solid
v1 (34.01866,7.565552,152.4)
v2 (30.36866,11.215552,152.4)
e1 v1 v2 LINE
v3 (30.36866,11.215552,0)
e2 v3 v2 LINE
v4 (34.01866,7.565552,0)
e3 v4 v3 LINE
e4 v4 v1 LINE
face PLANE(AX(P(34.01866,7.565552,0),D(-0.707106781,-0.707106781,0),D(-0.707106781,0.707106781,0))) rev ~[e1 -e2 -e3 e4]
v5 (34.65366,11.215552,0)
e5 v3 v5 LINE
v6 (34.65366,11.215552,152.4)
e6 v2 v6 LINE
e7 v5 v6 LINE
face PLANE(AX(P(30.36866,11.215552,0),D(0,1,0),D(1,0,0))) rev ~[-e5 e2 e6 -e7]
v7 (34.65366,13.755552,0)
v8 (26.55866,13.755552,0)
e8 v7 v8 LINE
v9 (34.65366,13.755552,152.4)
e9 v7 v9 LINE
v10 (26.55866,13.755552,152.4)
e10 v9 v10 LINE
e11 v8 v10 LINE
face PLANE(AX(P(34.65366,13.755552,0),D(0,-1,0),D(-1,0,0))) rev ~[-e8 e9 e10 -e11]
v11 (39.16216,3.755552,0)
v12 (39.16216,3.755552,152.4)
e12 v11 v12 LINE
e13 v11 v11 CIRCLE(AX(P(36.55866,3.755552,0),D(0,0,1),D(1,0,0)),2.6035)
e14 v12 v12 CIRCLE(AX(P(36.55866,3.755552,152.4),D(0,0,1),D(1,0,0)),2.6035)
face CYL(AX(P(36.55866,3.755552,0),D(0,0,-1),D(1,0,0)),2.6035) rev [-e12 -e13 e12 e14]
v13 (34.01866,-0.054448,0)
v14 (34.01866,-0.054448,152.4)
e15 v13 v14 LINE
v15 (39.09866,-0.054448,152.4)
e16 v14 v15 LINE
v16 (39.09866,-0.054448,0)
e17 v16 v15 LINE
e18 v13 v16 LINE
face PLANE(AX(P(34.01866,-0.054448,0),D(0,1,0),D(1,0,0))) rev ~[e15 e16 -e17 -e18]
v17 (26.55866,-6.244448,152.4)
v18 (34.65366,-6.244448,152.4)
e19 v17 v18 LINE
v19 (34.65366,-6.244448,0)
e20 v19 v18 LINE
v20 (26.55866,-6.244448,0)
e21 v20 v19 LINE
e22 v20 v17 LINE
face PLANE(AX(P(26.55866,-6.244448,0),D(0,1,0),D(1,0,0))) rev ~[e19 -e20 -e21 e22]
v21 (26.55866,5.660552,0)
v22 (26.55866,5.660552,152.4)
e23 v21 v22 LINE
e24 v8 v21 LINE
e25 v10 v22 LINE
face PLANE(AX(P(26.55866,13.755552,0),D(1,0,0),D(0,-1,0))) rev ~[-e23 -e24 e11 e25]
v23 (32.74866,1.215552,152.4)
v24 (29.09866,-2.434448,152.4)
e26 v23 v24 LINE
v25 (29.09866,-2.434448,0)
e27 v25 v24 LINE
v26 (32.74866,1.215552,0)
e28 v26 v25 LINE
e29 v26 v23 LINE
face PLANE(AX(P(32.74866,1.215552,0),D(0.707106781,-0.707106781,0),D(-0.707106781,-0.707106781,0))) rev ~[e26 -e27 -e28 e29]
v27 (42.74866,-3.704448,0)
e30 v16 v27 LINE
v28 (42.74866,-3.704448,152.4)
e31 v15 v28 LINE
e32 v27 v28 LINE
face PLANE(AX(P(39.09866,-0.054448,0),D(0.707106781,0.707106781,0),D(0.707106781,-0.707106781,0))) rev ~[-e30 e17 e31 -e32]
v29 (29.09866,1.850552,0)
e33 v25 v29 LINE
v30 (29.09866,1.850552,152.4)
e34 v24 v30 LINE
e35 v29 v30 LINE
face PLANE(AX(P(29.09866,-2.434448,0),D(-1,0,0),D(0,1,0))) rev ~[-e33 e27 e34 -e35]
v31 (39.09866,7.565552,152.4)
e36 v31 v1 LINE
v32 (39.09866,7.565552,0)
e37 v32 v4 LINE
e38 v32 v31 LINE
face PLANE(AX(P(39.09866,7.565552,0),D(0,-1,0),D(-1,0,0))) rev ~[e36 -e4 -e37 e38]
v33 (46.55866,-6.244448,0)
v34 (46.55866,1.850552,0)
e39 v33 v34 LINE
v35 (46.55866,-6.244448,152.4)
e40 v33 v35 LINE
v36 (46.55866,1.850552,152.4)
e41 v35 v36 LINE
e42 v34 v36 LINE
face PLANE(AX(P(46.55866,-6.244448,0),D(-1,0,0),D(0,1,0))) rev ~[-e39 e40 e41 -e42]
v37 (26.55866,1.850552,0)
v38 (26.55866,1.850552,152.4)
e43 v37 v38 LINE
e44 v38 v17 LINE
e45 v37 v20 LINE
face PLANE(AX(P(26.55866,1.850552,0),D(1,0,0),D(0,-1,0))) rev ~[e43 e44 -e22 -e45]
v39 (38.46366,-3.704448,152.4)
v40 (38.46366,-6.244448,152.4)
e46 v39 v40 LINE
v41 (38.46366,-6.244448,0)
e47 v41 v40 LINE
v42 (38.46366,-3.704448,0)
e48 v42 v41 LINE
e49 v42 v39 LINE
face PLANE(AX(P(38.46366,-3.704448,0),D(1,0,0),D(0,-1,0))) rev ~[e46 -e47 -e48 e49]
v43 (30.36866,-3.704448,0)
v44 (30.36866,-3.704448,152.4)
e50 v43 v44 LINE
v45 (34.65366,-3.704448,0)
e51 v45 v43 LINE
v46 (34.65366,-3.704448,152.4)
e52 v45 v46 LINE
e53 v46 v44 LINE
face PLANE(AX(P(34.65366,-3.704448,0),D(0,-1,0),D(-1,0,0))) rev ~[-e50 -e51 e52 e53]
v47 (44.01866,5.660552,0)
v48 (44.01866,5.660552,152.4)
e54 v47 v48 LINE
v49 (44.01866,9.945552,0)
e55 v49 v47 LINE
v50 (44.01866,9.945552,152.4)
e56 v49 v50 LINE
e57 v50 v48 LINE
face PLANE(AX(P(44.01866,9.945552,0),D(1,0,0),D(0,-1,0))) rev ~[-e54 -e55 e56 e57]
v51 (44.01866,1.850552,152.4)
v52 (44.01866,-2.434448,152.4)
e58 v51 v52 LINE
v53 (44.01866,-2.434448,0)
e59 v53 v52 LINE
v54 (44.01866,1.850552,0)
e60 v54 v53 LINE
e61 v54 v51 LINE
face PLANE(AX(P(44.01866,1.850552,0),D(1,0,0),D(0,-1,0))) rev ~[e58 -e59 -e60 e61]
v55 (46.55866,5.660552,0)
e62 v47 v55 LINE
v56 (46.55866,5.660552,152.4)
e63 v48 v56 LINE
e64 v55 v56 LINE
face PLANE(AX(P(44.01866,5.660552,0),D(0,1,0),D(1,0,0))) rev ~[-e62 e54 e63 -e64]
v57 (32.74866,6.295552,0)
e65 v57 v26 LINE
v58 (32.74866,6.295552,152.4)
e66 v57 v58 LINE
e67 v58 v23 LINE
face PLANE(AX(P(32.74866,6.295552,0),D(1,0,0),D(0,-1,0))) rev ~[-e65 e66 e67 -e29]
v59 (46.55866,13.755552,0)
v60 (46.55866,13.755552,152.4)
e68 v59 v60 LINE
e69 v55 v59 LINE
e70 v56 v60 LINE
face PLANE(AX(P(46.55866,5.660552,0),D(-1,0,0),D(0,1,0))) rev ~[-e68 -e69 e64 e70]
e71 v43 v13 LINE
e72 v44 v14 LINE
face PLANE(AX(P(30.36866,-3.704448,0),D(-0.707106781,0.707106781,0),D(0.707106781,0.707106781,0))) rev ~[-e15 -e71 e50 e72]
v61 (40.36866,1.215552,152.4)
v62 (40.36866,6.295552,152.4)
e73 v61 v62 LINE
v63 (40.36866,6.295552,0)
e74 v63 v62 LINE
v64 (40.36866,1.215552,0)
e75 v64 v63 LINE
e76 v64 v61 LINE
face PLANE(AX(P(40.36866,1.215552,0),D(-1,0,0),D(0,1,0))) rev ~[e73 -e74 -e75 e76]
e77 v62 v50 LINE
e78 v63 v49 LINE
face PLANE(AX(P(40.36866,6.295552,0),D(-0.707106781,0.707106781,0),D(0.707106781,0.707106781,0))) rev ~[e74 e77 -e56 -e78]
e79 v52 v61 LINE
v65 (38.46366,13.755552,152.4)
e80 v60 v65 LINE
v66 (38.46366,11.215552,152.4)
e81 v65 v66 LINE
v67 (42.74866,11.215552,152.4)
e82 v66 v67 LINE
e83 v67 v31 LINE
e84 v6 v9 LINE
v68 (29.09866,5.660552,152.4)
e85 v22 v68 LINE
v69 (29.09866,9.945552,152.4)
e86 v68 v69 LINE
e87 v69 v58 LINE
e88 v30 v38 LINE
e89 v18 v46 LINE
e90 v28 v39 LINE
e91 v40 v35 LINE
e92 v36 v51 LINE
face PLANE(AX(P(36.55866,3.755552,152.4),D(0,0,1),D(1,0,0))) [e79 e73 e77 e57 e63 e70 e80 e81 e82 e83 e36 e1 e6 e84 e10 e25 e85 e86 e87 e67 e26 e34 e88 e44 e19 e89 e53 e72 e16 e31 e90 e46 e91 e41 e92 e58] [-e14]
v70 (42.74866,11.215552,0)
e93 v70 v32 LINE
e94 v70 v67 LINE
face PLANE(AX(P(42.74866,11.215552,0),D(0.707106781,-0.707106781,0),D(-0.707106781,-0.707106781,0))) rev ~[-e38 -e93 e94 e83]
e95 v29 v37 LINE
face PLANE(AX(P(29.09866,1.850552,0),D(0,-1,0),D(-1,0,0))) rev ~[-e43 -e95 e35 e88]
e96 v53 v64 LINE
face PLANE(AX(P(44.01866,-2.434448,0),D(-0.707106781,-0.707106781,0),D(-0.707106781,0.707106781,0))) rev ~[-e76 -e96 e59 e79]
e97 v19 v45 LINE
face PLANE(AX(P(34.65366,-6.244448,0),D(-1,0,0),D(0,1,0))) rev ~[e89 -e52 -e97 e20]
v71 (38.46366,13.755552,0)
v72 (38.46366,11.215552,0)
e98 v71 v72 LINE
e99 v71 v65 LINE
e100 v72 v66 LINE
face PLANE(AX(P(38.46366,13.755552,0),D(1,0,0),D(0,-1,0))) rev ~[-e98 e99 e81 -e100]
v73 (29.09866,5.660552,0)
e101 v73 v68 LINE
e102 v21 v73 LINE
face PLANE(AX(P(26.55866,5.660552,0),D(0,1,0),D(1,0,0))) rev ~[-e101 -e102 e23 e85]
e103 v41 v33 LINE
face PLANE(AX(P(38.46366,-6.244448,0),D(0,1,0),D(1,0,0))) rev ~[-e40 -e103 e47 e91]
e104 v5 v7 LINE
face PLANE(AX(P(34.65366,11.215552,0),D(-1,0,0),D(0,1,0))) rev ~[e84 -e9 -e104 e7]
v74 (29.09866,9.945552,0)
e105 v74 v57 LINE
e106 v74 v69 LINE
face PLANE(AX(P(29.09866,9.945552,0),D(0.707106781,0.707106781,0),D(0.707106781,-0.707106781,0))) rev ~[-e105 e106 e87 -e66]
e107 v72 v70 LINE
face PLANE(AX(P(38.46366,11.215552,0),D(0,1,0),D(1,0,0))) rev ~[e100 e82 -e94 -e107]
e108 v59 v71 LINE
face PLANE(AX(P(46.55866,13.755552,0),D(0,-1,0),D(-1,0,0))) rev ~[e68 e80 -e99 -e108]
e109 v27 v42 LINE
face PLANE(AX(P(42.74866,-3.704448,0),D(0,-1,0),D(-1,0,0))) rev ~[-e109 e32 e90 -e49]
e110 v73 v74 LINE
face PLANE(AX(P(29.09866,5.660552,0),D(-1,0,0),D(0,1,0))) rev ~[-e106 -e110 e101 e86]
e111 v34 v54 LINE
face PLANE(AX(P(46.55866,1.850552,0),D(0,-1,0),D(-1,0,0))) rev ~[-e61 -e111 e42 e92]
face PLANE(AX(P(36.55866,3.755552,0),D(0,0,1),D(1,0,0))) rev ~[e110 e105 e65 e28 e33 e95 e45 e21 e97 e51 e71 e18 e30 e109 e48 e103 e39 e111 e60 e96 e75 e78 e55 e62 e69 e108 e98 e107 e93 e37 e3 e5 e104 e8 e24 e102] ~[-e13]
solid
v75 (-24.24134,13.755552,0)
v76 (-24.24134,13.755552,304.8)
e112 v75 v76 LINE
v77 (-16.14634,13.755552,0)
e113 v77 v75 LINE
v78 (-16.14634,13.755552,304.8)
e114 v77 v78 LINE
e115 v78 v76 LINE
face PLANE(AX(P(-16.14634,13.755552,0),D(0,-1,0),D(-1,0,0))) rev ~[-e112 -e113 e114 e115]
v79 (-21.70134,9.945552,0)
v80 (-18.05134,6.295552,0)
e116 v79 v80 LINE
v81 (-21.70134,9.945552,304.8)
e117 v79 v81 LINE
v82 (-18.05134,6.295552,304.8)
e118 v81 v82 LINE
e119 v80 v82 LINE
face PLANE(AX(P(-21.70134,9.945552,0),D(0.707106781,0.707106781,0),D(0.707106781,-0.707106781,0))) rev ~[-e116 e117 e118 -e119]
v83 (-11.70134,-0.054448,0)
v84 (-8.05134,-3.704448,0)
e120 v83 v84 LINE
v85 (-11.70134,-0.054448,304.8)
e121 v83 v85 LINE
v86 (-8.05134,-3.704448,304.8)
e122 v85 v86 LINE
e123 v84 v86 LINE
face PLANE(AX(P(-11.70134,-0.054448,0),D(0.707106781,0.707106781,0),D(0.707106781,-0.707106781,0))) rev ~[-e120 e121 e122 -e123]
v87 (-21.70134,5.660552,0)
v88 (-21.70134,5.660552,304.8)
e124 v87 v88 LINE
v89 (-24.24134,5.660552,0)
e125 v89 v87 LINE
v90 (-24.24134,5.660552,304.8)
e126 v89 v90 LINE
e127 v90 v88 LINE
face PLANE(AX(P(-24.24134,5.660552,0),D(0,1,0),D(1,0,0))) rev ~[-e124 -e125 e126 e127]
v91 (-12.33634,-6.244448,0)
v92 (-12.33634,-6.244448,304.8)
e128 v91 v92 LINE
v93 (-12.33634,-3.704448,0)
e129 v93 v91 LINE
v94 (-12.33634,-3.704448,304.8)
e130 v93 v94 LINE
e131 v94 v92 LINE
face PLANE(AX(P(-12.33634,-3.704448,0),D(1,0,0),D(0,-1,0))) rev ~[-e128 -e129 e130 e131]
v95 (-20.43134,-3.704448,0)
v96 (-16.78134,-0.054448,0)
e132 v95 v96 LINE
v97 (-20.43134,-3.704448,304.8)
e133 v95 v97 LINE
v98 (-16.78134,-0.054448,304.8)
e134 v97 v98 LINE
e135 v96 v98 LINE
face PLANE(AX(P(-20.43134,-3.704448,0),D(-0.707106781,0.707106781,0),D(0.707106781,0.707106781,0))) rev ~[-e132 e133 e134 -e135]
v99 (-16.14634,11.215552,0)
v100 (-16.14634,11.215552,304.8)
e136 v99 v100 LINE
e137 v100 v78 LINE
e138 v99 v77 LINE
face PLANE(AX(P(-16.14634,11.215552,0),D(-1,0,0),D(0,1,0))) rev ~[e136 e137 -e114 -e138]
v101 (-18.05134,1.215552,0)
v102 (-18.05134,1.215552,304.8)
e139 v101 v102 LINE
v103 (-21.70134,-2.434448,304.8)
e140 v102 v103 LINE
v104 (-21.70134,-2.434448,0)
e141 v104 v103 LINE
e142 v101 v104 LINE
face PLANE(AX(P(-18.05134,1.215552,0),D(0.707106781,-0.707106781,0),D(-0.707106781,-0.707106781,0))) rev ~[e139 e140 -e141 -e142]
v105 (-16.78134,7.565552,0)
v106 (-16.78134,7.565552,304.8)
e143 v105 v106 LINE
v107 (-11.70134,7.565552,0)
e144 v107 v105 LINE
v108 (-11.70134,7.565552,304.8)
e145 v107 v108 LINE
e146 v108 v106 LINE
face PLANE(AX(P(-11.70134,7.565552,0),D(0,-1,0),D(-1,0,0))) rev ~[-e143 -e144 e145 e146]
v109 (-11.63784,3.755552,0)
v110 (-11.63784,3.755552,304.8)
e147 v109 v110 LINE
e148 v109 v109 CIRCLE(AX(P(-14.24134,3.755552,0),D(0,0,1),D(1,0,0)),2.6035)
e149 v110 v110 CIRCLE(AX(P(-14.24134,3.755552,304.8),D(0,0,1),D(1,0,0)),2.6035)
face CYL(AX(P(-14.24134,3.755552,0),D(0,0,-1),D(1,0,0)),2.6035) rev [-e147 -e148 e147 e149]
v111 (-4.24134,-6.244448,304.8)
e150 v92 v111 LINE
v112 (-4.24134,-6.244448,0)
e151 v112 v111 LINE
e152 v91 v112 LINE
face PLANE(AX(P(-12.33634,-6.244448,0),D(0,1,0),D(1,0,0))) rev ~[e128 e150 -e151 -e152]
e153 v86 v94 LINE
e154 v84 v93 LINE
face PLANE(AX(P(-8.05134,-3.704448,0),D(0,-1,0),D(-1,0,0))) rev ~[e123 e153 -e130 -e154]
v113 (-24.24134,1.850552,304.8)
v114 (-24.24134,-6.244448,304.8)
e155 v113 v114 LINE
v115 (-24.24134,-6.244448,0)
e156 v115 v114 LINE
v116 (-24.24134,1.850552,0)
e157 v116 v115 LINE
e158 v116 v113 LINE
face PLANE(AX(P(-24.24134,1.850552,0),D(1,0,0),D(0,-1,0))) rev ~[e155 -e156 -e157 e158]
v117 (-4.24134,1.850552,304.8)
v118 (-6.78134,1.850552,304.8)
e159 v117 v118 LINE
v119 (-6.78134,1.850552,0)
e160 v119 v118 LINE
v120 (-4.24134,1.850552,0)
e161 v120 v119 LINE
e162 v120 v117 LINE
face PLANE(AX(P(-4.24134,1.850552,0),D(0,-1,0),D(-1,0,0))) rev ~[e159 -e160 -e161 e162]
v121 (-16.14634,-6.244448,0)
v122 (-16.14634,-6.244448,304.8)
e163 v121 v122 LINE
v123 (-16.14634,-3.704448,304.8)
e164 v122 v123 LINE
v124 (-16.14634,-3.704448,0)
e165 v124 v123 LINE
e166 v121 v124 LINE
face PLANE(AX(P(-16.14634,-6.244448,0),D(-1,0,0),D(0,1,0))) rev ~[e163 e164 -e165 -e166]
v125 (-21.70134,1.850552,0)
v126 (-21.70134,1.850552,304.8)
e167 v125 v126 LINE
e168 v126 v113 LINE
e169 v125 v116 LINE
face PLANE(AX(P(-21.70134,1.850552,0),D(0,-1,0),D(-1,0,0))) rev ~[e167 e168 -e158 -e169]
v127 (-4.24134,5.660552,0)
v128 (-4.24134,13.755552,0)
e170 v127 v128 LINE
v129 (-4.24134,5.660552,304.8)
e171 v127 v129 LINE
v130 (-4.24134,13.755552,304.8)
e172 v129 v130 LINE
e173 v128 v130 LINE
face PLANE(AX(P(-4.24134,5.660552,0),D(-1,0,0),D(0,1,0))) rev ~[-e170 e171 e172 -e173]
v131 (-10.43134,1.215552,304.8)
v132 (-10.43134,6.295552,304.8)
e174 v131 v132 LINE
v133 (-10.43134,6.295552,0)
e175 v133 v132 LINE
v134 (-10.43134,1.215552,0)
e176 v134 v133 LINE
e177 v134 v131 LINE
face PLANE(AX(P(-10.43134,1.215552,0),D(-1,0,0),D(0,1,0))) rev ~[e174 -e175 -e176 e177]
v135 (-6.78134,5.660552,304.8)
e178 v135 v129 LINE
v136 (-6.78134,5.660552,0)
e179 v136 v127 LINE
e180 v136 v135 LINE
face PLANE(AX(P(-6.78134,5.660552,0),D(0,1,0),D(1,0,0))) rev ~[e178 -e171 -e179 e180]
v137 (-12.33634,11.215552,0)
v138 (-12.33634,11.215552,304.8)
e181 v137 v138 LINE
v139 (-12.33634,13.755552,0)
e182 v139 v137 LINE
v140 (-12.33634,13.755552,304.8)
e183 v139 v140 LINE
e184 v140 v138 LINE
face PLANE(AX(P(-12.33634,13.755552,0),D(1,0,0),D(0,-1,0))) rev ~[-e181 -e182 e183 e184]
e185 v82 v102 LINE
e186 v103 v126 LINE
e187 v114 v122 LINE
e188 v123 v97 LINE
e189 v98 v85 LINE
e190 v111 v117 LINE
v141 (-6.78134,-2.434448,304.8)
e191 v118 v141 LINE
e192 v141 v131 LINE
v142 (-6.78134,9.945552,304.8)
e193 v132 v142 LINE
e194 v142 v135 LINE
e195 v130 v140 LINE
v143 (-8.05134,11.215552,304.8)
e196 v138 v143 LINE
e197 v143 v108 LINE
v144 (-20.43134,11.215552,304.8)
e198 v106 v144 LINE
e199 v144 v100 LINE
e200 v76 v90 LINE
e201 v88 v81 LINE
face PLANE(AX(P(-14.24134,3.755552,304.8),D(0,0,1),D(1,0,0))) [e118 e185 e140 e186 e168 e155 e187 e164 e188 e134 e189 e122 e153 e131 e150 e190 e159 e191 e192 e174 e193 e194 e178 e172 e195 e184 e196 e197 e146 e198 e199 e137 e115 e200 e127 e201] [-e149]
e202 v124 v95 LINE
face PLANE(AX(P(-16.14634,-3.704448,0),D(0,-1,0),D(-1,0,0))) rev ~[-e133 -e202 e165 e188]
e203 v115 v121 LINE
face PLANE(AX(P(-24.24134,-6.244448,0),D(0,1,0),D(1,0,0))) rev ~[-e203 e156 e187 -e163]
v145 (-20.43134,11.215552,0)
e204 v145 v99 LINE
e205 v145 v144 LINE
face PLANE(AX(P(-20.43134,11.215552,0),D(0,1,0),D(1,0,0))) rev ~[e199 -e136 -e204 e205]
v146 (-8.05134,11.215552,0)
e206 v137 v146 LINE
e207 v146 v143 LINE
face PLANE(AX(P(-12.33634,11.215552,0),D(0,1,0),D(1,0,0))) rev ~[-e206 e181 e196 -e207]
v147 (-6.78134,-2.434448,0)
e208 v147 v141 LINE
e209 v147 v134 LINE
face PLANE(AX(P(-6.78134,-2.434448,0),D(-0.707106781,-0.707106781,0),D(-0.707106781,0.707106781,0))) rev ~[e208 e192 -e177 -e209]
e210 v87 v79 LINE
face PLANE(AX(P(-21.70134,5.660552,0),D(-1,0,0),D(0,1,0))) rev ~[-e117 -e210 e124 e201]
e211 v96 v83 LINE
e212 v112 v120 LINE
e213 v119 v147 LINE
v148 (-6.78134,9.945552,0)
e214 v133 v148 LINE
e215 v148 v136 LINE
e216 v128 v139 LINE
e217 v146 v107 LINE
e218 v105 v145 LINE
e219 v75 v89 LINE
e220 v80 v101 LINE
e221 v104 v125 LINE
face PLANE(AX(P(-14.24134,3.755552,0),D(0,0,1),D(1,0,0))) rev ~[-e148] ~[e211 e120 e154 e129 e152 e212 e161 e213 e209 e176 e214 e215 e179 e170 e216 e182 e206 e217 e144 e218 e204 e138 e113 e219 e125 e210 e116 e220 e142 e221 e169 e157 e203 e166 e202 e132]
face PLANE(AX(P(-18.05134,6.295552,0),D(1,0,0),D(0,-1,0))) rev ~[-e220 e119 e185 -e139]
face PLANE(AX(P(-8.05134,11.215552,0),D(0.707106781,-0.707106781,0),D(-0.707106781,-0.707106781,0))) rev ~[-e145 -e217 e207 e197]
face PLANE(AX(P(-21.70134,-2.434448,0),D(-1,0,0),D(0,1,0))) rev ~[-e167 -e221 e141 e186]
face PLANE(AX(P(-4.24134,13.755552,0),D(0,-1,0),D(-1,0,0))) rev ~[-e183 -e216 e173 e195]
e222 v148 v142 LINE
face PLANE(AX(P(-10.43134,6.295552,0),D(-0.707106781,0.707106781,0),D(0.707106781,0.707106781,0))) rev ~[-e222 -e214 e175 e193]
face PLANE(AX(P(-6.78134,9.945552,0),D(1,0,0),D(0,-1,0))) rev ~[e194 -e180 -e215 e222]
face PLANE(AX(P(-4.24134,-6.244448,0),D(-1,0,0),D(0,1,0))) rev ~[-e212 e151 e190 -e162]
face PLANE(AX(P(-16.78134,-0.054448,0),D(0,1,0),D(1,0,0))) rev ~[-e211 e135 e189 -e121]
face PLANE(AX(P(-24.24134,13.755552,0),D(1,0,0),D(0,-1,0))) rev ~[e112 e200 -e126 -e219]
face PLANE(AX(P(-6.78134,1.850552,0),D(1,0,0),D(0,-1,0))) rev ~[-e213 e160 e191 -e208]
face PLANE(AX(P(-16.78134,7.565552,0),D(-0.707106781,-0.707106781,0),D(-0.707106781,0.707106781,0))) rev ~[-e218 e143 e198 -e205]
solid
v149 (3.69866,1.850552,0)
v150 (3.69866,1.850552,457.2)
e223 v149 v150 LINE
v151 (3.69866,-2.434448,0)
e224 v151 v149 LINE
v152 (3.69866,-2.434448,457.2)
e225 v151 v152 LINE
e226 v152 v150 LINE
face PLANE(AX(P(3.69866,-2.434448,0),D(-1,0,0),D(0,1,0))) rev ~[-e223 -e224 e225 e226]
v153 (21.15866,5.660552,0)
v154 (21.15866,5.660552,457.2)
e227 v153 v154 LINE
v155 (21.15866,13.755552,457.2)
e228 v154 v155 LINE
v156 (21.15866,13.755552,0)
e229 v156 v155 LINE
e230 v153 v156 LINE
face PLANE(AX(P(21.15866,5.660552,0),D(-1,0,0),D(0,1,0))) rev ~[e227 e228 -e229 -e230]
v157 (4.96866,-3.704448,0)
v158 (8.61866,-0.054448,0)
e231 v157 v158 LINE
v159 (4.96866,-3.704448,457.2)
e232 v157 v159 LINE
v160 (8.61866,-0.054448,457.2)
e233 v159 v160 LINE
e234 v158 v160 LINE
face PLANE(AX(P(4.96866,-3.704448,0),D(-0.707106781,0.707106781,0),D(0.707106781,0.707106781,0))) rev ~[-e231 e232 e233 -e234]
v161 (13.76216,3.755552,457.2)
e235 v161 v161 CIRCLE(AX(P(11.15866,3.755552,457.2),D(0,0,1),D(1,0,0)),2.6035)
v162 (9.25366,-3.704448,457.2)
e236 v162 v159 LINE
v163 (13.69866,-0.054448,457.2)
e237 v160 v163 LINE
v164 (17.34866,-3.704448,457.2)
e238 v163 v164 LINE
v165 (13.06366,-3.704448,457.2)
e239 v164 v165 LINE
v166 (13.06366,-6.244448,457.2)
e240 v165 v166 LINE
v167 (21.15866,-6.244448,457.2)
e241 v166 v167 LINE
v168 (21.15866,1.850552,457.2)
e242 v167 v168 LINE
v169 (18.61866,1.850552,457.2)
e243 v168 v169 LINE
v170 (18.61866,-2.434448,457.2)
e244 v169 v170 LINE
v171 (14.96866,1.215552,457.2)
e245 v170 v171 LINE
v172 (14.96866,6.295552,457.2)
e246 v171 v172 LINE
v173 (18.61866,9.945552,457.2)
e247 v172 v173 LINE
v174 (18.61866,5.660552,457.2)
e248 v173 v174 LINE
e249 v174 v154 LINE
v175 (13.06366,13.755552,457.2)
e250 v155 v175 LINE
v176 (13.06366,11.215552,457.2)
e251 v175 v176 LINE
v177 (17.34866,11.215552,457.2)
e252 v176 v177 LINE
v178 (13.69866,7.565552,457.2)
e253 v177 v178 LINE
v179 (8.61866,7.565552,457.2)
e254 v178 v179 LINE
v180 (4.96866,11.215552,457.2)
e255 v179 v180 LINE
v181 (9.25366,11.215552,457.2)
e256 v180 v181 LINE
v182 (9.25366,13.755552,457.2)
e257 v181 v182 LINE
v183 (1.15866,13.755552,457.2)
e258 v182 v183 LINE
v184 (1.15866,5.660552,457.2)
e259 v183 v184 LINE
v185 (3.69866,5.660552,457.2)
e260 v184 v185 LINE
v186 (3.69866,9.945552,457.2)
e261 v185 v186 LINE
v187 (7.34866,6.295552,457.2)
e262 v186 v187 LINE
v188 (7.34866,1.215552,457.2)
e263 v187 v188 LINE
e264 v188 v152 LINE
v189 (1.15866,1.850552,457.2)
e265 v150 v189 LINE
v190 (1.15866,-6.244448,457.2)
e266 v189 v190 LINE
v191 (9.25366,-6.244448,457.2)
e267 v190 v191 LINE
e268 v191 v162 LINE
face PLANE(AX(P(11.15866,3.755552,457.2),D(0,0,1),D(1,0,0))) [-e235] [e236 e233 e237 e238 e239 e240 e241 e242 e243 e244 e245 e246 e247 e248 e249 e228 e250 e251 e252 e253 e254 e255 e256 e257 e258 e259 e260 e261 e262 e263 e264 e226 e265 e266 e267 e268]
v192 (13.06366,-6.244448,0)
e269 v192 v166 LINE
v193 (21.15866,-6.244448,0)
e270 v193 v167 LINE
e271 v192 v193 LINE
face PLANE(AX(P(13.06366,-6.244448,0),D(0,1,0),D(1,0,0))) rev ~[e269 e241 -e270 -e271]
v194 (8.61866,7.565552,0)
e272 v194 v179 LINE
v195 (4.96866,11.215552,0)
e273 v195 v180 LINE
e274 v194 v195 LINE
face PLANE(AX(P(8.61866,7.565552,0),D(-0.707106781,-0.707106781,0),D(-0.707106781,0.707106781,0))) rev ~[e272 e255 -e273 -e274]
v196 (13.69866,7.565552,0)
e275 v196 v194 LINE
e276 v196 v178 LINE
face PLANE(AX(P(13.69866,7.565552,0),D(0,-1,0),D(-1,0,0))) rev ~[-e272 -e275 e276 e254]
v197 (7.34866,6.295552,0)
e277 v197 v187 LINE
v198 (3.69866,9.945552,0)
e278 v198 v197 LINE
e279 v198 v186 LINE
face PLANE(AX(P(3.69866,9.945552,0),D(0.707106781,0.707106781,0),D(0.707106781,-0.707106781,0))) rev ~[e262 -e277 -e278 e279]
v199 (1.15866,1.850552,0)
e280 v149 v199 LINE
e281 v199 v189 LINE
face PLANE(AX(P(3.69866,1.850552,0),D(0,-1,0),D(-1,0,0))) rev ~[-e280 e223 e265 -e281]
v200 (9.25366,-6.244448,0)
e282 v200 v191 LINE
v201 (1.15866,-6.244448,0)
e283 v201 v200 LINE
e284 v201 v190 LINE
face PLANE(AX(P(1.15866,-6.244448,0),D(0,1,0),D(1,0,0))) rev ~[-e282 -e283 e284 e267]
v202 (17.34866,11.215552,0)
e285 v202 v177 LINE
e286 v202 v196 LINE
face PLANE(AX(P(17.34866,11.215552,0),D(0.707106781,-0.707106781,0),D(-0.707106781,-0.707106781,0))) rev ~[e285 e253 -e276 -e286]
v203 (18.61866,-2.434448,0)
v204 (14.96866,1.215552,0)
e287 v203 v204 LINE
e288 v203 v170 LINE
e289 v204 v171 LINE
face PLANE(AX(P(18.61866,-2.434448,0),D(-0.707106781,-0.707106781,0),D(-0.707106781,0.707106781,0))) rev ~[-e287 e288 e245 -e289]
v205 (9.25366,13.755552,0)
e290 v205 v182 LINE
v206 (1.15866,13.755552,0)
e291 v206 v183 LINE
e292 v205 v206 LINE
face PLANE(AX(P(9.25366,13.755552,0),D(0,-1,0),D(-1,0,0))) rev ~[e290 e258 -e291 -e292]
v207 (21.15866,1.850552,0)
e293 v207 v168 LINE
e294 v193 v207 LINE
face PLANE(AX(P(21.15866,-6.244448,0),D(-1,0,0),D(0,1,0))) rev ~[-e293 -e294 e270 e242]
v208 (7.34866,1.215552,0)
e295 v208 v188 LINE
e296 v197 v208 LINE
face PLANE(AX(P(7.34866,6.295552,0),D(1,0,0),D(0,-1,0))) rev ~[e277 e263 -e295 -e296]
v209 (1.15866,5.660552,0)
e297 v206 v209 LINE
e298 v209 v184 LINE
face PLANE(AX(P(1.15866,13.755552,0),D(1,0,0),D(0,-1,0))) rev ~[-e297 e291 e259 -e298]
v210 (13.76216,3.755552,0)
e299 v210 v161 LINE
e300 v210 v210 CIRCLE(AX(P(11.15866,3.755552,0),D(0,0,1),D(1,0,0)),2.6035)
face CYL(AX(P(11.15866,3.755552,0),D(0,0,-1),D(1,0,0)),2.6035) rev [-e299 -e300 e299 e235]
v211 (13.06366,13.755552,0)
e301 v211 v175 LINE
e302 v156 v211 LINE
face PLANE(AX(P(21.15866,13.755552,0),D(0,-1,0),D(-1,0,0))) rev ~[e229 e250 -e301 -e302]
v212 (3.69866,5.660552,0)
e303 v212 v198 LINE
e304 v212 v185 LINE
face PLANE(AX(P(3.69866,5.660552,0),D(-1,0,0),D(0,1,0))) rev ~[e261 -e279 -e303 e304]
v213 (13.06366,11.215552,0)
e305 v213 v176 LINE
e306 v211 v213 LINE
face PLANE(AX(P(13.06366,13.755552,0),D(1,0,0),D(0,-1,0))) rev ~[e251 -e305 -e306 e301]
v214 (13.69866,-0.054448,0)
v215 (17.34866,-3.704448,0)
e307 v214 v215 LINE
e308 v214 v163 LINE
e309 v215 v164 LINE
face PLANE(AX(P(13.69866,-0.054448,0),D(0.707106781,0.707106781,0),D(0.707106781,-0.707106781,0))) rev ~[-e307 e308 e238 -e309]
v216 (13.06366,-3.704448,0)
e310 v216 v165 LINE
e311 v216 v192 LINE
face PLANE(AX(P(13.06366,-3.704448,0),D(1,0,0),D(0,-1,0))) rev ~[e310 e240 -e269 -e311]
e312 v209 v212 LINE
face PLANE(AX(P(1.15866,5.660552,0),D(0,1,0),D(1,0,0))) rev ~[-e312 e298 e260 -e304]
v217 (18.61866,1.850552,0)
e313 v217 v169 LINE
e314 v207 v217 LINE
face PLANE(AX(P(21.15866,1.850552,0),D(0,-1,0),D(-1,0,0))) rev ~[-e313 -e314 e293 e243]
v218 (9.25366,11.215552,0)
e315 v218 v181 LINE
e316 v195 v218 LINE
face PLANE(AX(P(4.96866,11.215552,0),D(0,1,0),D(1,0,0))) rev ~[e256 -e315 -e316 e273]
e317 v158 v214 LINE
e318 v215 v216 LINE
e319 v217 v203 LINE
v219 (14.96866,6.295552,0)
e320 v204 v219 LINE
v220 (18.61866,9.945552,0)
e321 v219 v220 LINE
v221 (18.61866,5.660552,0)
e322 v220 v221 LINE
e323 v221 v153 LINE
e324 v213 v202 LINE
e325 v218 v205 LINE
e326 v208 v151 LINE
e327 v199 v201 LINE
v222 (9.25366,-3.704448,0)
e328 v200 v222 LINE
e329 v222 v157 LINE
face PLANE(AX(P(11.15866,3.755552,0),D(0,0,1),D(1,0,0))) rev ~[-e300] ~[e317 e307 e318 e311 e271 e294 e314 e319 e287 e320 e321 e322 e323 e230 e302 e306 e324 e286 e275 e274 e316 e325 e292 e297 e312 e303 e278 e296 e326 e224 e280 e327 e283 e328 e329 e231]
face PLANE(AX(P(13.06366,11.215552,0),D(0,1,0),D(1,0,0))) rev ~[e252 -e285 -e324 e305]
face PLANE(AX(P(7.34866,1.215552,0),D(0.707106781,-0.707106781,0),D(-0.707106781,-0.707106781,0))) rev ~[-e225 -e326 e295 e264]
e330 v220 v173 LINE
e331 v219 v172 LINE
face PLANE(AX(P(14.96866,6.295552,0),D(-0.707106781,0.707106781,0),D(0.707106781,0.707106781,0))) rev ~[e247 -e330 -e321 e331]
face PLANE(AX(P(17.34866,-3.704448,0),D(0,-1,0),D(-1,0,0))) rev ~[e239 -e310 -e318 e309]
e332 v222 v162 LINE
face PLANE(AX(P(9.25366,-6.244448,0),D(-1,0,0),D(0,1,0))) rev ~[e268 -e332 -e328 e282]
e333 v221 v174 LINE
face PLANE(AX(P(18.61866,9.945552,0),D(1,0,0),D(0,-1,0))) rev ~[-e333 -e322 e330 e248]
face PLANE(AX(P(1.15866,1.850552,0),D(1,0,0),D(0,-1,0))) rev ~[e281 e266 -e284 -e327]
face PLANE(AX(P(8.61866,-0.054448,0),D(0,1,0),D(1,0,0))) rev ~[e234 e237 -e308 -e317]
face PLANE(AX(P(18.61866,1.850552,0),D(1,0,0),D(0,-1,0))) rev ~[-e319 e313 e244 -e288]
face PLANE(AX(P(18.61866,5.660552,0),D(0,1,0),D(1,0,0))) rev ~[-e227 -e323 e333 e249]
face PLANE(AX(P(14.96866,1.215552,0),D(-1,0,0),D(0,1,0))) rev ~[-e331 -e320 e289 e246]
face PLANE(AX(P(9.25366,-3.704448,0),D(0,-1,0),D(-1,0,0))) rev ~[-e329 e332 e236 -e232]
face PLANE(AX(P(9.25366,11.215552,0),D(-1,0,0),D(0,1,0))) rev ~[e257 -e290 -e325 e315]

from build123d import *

# Parameters (mm, degrees)
F0_R     = 2.6035
F1_DEPTH = 304.8
F2_DEPTH = 457.2
F3_DEPTH = 152.4


with BuildPart() as f1:
    # F0 (on Top) → F1 (new body)
    with BuildSketch(Plane.XY):
        Polygon((-11.70134, 7.565552), (-16.78134, 7.565552), (-20.43134, 11.215552), (-16.14634, 11.215552), (-16.14634, 13.755552), (-24.24134, 13.755552), (-24.24134, 5.660552), (-21.70134, 5.660552), (-21.70134, 9.945552), (-18.05134, 6.295552), (-18.05134, 1.215552), (-21.70134, -2.434448), (-21.70134, 1.850552), (-24.24134, 1.850552), (-24.24134, -6.244448), (-16.14634, -6.244448), (-16.14634, -3.704448), (-20.43134, -3.704448), (-16.78134, -0.054448), (-11.70134, -0.054448), (-8.05134, -3.704448), (-12.33634, -3.704448), (-12.33634, -6.244448), (-4.24134, -6.244448), (-4.24134, 1.850552), (-6.78134, 1.850552), (-6.78134, -2.434448), (-10.43134, 1.215552), (-10.43134, 6.295552), (-6.78134, 9.945552), (-6.78134, 5.660552), (-4.24134, 5.660552), (-4.24134, 13.755552), (-12.33634, 13.755552), (-12.33634, 11.215552), (-8.05134, 11.215552), align=None)
        with Locations((-14.24134, 3.755552)):
            Circle(F0_R, mode=Mode.SUBTRACT)
    extrude(amount=F1_DEPTH)


with BuildPart() as f2:
    # F0 (on Top) → F2 (new body)
    with BuildSketch(Plane.XY):
        Polygon((9.25366, 13.755552), (1.15866, 13.755552), (1.15866, 5.660552), (3.69866, 5.660552), (3.69866, 9.945552), (7.34866, 6.295552), (7.34866, 1.215552), (3.69866, -2.434448), (3.69866, 1.850552), (1.15866, 1.850552), (1.15866, -6.244448), (9.25366, -6.244448), (9.25366, -3.704448), (4.96866, -3.704448), (8.61866, -0.054448), (13.69866, -0.054448), (17.34866, -3.704448), (13.06366, -3.704448), (13.06366, -6.244448), (21.15866, -6.244448), (21.15866, 1.850552), (18.61866, 1.850552), (18.61866, -2.434448), (14.96866, 1.215552), (14.96866, 6.295552), (18.61866, 9.945552), (18.61866, 5.660552), (21.15866, 5.660552), (21.15866, 13.755552), (13.06366, 13.755552), (13.06366, 11.215552), (17.34866, 11.215552), (13.69866, 7.565552), (8.61866, 7.565552), (4.96866, 11.215552), (9.25366, 11.215552), align=None)
        with Locations((11.15866, 3.755552)):
            Circle(F0_R, mode=Mode.SUBTRACT)
    extrude(amount=F2_DEPTH)


with BuildPart() as f3:
    # F0 (on Top) → F3 (new body)
    with BuildSketch(Plane.XY):
        Polygon((34.65366, 13.755552), (26.55866, 13.755552), (26.55866, 5.660552), (29.09866, 5.660552), (29.09866, 9.945552), (32.74866, 6.295552), (32.74866, 1.215552), (29.09866, -2.434448), (29.09866, 1.850552), (26.55866, 1.850552), (26.55866, -6.244448), (34.65366, -6.244448), (34.65366, -3.704448), (30.36866, -3.704448), (34.01866, -0.054448), (39.09866, -0.054448), (42.74866, -3.704448), (38.46366, -3.704448), (38.46366, -6.244448), (46.55866, -6.244448), (46.55866, 1.850552), (44.01866, 1.850552), (44.01866, -2.434448), (40.36866, 1.215552), (40.36866, 6.295552), (44.01866, 9.945552), (44.01866, 5.660552), (46.55866, 5.660552), (46.55866, 13.755552), (38.46366, 13.755552), (38.46366, 11.215552), (42.74866, 11.215552), (39.09866, 7.565552), (34.01866, 7.565552), (30.36866, 11.215552), (34.65366, 11.215552), align=None)
        with Locations((36.55866, 3.755552)):
            Circle(F0_R, mode=Mode.SUBTRACT)
    extrude(amount=F3_DEPTH)


solid = Compound([f1.part, f2.part, f3.part])
